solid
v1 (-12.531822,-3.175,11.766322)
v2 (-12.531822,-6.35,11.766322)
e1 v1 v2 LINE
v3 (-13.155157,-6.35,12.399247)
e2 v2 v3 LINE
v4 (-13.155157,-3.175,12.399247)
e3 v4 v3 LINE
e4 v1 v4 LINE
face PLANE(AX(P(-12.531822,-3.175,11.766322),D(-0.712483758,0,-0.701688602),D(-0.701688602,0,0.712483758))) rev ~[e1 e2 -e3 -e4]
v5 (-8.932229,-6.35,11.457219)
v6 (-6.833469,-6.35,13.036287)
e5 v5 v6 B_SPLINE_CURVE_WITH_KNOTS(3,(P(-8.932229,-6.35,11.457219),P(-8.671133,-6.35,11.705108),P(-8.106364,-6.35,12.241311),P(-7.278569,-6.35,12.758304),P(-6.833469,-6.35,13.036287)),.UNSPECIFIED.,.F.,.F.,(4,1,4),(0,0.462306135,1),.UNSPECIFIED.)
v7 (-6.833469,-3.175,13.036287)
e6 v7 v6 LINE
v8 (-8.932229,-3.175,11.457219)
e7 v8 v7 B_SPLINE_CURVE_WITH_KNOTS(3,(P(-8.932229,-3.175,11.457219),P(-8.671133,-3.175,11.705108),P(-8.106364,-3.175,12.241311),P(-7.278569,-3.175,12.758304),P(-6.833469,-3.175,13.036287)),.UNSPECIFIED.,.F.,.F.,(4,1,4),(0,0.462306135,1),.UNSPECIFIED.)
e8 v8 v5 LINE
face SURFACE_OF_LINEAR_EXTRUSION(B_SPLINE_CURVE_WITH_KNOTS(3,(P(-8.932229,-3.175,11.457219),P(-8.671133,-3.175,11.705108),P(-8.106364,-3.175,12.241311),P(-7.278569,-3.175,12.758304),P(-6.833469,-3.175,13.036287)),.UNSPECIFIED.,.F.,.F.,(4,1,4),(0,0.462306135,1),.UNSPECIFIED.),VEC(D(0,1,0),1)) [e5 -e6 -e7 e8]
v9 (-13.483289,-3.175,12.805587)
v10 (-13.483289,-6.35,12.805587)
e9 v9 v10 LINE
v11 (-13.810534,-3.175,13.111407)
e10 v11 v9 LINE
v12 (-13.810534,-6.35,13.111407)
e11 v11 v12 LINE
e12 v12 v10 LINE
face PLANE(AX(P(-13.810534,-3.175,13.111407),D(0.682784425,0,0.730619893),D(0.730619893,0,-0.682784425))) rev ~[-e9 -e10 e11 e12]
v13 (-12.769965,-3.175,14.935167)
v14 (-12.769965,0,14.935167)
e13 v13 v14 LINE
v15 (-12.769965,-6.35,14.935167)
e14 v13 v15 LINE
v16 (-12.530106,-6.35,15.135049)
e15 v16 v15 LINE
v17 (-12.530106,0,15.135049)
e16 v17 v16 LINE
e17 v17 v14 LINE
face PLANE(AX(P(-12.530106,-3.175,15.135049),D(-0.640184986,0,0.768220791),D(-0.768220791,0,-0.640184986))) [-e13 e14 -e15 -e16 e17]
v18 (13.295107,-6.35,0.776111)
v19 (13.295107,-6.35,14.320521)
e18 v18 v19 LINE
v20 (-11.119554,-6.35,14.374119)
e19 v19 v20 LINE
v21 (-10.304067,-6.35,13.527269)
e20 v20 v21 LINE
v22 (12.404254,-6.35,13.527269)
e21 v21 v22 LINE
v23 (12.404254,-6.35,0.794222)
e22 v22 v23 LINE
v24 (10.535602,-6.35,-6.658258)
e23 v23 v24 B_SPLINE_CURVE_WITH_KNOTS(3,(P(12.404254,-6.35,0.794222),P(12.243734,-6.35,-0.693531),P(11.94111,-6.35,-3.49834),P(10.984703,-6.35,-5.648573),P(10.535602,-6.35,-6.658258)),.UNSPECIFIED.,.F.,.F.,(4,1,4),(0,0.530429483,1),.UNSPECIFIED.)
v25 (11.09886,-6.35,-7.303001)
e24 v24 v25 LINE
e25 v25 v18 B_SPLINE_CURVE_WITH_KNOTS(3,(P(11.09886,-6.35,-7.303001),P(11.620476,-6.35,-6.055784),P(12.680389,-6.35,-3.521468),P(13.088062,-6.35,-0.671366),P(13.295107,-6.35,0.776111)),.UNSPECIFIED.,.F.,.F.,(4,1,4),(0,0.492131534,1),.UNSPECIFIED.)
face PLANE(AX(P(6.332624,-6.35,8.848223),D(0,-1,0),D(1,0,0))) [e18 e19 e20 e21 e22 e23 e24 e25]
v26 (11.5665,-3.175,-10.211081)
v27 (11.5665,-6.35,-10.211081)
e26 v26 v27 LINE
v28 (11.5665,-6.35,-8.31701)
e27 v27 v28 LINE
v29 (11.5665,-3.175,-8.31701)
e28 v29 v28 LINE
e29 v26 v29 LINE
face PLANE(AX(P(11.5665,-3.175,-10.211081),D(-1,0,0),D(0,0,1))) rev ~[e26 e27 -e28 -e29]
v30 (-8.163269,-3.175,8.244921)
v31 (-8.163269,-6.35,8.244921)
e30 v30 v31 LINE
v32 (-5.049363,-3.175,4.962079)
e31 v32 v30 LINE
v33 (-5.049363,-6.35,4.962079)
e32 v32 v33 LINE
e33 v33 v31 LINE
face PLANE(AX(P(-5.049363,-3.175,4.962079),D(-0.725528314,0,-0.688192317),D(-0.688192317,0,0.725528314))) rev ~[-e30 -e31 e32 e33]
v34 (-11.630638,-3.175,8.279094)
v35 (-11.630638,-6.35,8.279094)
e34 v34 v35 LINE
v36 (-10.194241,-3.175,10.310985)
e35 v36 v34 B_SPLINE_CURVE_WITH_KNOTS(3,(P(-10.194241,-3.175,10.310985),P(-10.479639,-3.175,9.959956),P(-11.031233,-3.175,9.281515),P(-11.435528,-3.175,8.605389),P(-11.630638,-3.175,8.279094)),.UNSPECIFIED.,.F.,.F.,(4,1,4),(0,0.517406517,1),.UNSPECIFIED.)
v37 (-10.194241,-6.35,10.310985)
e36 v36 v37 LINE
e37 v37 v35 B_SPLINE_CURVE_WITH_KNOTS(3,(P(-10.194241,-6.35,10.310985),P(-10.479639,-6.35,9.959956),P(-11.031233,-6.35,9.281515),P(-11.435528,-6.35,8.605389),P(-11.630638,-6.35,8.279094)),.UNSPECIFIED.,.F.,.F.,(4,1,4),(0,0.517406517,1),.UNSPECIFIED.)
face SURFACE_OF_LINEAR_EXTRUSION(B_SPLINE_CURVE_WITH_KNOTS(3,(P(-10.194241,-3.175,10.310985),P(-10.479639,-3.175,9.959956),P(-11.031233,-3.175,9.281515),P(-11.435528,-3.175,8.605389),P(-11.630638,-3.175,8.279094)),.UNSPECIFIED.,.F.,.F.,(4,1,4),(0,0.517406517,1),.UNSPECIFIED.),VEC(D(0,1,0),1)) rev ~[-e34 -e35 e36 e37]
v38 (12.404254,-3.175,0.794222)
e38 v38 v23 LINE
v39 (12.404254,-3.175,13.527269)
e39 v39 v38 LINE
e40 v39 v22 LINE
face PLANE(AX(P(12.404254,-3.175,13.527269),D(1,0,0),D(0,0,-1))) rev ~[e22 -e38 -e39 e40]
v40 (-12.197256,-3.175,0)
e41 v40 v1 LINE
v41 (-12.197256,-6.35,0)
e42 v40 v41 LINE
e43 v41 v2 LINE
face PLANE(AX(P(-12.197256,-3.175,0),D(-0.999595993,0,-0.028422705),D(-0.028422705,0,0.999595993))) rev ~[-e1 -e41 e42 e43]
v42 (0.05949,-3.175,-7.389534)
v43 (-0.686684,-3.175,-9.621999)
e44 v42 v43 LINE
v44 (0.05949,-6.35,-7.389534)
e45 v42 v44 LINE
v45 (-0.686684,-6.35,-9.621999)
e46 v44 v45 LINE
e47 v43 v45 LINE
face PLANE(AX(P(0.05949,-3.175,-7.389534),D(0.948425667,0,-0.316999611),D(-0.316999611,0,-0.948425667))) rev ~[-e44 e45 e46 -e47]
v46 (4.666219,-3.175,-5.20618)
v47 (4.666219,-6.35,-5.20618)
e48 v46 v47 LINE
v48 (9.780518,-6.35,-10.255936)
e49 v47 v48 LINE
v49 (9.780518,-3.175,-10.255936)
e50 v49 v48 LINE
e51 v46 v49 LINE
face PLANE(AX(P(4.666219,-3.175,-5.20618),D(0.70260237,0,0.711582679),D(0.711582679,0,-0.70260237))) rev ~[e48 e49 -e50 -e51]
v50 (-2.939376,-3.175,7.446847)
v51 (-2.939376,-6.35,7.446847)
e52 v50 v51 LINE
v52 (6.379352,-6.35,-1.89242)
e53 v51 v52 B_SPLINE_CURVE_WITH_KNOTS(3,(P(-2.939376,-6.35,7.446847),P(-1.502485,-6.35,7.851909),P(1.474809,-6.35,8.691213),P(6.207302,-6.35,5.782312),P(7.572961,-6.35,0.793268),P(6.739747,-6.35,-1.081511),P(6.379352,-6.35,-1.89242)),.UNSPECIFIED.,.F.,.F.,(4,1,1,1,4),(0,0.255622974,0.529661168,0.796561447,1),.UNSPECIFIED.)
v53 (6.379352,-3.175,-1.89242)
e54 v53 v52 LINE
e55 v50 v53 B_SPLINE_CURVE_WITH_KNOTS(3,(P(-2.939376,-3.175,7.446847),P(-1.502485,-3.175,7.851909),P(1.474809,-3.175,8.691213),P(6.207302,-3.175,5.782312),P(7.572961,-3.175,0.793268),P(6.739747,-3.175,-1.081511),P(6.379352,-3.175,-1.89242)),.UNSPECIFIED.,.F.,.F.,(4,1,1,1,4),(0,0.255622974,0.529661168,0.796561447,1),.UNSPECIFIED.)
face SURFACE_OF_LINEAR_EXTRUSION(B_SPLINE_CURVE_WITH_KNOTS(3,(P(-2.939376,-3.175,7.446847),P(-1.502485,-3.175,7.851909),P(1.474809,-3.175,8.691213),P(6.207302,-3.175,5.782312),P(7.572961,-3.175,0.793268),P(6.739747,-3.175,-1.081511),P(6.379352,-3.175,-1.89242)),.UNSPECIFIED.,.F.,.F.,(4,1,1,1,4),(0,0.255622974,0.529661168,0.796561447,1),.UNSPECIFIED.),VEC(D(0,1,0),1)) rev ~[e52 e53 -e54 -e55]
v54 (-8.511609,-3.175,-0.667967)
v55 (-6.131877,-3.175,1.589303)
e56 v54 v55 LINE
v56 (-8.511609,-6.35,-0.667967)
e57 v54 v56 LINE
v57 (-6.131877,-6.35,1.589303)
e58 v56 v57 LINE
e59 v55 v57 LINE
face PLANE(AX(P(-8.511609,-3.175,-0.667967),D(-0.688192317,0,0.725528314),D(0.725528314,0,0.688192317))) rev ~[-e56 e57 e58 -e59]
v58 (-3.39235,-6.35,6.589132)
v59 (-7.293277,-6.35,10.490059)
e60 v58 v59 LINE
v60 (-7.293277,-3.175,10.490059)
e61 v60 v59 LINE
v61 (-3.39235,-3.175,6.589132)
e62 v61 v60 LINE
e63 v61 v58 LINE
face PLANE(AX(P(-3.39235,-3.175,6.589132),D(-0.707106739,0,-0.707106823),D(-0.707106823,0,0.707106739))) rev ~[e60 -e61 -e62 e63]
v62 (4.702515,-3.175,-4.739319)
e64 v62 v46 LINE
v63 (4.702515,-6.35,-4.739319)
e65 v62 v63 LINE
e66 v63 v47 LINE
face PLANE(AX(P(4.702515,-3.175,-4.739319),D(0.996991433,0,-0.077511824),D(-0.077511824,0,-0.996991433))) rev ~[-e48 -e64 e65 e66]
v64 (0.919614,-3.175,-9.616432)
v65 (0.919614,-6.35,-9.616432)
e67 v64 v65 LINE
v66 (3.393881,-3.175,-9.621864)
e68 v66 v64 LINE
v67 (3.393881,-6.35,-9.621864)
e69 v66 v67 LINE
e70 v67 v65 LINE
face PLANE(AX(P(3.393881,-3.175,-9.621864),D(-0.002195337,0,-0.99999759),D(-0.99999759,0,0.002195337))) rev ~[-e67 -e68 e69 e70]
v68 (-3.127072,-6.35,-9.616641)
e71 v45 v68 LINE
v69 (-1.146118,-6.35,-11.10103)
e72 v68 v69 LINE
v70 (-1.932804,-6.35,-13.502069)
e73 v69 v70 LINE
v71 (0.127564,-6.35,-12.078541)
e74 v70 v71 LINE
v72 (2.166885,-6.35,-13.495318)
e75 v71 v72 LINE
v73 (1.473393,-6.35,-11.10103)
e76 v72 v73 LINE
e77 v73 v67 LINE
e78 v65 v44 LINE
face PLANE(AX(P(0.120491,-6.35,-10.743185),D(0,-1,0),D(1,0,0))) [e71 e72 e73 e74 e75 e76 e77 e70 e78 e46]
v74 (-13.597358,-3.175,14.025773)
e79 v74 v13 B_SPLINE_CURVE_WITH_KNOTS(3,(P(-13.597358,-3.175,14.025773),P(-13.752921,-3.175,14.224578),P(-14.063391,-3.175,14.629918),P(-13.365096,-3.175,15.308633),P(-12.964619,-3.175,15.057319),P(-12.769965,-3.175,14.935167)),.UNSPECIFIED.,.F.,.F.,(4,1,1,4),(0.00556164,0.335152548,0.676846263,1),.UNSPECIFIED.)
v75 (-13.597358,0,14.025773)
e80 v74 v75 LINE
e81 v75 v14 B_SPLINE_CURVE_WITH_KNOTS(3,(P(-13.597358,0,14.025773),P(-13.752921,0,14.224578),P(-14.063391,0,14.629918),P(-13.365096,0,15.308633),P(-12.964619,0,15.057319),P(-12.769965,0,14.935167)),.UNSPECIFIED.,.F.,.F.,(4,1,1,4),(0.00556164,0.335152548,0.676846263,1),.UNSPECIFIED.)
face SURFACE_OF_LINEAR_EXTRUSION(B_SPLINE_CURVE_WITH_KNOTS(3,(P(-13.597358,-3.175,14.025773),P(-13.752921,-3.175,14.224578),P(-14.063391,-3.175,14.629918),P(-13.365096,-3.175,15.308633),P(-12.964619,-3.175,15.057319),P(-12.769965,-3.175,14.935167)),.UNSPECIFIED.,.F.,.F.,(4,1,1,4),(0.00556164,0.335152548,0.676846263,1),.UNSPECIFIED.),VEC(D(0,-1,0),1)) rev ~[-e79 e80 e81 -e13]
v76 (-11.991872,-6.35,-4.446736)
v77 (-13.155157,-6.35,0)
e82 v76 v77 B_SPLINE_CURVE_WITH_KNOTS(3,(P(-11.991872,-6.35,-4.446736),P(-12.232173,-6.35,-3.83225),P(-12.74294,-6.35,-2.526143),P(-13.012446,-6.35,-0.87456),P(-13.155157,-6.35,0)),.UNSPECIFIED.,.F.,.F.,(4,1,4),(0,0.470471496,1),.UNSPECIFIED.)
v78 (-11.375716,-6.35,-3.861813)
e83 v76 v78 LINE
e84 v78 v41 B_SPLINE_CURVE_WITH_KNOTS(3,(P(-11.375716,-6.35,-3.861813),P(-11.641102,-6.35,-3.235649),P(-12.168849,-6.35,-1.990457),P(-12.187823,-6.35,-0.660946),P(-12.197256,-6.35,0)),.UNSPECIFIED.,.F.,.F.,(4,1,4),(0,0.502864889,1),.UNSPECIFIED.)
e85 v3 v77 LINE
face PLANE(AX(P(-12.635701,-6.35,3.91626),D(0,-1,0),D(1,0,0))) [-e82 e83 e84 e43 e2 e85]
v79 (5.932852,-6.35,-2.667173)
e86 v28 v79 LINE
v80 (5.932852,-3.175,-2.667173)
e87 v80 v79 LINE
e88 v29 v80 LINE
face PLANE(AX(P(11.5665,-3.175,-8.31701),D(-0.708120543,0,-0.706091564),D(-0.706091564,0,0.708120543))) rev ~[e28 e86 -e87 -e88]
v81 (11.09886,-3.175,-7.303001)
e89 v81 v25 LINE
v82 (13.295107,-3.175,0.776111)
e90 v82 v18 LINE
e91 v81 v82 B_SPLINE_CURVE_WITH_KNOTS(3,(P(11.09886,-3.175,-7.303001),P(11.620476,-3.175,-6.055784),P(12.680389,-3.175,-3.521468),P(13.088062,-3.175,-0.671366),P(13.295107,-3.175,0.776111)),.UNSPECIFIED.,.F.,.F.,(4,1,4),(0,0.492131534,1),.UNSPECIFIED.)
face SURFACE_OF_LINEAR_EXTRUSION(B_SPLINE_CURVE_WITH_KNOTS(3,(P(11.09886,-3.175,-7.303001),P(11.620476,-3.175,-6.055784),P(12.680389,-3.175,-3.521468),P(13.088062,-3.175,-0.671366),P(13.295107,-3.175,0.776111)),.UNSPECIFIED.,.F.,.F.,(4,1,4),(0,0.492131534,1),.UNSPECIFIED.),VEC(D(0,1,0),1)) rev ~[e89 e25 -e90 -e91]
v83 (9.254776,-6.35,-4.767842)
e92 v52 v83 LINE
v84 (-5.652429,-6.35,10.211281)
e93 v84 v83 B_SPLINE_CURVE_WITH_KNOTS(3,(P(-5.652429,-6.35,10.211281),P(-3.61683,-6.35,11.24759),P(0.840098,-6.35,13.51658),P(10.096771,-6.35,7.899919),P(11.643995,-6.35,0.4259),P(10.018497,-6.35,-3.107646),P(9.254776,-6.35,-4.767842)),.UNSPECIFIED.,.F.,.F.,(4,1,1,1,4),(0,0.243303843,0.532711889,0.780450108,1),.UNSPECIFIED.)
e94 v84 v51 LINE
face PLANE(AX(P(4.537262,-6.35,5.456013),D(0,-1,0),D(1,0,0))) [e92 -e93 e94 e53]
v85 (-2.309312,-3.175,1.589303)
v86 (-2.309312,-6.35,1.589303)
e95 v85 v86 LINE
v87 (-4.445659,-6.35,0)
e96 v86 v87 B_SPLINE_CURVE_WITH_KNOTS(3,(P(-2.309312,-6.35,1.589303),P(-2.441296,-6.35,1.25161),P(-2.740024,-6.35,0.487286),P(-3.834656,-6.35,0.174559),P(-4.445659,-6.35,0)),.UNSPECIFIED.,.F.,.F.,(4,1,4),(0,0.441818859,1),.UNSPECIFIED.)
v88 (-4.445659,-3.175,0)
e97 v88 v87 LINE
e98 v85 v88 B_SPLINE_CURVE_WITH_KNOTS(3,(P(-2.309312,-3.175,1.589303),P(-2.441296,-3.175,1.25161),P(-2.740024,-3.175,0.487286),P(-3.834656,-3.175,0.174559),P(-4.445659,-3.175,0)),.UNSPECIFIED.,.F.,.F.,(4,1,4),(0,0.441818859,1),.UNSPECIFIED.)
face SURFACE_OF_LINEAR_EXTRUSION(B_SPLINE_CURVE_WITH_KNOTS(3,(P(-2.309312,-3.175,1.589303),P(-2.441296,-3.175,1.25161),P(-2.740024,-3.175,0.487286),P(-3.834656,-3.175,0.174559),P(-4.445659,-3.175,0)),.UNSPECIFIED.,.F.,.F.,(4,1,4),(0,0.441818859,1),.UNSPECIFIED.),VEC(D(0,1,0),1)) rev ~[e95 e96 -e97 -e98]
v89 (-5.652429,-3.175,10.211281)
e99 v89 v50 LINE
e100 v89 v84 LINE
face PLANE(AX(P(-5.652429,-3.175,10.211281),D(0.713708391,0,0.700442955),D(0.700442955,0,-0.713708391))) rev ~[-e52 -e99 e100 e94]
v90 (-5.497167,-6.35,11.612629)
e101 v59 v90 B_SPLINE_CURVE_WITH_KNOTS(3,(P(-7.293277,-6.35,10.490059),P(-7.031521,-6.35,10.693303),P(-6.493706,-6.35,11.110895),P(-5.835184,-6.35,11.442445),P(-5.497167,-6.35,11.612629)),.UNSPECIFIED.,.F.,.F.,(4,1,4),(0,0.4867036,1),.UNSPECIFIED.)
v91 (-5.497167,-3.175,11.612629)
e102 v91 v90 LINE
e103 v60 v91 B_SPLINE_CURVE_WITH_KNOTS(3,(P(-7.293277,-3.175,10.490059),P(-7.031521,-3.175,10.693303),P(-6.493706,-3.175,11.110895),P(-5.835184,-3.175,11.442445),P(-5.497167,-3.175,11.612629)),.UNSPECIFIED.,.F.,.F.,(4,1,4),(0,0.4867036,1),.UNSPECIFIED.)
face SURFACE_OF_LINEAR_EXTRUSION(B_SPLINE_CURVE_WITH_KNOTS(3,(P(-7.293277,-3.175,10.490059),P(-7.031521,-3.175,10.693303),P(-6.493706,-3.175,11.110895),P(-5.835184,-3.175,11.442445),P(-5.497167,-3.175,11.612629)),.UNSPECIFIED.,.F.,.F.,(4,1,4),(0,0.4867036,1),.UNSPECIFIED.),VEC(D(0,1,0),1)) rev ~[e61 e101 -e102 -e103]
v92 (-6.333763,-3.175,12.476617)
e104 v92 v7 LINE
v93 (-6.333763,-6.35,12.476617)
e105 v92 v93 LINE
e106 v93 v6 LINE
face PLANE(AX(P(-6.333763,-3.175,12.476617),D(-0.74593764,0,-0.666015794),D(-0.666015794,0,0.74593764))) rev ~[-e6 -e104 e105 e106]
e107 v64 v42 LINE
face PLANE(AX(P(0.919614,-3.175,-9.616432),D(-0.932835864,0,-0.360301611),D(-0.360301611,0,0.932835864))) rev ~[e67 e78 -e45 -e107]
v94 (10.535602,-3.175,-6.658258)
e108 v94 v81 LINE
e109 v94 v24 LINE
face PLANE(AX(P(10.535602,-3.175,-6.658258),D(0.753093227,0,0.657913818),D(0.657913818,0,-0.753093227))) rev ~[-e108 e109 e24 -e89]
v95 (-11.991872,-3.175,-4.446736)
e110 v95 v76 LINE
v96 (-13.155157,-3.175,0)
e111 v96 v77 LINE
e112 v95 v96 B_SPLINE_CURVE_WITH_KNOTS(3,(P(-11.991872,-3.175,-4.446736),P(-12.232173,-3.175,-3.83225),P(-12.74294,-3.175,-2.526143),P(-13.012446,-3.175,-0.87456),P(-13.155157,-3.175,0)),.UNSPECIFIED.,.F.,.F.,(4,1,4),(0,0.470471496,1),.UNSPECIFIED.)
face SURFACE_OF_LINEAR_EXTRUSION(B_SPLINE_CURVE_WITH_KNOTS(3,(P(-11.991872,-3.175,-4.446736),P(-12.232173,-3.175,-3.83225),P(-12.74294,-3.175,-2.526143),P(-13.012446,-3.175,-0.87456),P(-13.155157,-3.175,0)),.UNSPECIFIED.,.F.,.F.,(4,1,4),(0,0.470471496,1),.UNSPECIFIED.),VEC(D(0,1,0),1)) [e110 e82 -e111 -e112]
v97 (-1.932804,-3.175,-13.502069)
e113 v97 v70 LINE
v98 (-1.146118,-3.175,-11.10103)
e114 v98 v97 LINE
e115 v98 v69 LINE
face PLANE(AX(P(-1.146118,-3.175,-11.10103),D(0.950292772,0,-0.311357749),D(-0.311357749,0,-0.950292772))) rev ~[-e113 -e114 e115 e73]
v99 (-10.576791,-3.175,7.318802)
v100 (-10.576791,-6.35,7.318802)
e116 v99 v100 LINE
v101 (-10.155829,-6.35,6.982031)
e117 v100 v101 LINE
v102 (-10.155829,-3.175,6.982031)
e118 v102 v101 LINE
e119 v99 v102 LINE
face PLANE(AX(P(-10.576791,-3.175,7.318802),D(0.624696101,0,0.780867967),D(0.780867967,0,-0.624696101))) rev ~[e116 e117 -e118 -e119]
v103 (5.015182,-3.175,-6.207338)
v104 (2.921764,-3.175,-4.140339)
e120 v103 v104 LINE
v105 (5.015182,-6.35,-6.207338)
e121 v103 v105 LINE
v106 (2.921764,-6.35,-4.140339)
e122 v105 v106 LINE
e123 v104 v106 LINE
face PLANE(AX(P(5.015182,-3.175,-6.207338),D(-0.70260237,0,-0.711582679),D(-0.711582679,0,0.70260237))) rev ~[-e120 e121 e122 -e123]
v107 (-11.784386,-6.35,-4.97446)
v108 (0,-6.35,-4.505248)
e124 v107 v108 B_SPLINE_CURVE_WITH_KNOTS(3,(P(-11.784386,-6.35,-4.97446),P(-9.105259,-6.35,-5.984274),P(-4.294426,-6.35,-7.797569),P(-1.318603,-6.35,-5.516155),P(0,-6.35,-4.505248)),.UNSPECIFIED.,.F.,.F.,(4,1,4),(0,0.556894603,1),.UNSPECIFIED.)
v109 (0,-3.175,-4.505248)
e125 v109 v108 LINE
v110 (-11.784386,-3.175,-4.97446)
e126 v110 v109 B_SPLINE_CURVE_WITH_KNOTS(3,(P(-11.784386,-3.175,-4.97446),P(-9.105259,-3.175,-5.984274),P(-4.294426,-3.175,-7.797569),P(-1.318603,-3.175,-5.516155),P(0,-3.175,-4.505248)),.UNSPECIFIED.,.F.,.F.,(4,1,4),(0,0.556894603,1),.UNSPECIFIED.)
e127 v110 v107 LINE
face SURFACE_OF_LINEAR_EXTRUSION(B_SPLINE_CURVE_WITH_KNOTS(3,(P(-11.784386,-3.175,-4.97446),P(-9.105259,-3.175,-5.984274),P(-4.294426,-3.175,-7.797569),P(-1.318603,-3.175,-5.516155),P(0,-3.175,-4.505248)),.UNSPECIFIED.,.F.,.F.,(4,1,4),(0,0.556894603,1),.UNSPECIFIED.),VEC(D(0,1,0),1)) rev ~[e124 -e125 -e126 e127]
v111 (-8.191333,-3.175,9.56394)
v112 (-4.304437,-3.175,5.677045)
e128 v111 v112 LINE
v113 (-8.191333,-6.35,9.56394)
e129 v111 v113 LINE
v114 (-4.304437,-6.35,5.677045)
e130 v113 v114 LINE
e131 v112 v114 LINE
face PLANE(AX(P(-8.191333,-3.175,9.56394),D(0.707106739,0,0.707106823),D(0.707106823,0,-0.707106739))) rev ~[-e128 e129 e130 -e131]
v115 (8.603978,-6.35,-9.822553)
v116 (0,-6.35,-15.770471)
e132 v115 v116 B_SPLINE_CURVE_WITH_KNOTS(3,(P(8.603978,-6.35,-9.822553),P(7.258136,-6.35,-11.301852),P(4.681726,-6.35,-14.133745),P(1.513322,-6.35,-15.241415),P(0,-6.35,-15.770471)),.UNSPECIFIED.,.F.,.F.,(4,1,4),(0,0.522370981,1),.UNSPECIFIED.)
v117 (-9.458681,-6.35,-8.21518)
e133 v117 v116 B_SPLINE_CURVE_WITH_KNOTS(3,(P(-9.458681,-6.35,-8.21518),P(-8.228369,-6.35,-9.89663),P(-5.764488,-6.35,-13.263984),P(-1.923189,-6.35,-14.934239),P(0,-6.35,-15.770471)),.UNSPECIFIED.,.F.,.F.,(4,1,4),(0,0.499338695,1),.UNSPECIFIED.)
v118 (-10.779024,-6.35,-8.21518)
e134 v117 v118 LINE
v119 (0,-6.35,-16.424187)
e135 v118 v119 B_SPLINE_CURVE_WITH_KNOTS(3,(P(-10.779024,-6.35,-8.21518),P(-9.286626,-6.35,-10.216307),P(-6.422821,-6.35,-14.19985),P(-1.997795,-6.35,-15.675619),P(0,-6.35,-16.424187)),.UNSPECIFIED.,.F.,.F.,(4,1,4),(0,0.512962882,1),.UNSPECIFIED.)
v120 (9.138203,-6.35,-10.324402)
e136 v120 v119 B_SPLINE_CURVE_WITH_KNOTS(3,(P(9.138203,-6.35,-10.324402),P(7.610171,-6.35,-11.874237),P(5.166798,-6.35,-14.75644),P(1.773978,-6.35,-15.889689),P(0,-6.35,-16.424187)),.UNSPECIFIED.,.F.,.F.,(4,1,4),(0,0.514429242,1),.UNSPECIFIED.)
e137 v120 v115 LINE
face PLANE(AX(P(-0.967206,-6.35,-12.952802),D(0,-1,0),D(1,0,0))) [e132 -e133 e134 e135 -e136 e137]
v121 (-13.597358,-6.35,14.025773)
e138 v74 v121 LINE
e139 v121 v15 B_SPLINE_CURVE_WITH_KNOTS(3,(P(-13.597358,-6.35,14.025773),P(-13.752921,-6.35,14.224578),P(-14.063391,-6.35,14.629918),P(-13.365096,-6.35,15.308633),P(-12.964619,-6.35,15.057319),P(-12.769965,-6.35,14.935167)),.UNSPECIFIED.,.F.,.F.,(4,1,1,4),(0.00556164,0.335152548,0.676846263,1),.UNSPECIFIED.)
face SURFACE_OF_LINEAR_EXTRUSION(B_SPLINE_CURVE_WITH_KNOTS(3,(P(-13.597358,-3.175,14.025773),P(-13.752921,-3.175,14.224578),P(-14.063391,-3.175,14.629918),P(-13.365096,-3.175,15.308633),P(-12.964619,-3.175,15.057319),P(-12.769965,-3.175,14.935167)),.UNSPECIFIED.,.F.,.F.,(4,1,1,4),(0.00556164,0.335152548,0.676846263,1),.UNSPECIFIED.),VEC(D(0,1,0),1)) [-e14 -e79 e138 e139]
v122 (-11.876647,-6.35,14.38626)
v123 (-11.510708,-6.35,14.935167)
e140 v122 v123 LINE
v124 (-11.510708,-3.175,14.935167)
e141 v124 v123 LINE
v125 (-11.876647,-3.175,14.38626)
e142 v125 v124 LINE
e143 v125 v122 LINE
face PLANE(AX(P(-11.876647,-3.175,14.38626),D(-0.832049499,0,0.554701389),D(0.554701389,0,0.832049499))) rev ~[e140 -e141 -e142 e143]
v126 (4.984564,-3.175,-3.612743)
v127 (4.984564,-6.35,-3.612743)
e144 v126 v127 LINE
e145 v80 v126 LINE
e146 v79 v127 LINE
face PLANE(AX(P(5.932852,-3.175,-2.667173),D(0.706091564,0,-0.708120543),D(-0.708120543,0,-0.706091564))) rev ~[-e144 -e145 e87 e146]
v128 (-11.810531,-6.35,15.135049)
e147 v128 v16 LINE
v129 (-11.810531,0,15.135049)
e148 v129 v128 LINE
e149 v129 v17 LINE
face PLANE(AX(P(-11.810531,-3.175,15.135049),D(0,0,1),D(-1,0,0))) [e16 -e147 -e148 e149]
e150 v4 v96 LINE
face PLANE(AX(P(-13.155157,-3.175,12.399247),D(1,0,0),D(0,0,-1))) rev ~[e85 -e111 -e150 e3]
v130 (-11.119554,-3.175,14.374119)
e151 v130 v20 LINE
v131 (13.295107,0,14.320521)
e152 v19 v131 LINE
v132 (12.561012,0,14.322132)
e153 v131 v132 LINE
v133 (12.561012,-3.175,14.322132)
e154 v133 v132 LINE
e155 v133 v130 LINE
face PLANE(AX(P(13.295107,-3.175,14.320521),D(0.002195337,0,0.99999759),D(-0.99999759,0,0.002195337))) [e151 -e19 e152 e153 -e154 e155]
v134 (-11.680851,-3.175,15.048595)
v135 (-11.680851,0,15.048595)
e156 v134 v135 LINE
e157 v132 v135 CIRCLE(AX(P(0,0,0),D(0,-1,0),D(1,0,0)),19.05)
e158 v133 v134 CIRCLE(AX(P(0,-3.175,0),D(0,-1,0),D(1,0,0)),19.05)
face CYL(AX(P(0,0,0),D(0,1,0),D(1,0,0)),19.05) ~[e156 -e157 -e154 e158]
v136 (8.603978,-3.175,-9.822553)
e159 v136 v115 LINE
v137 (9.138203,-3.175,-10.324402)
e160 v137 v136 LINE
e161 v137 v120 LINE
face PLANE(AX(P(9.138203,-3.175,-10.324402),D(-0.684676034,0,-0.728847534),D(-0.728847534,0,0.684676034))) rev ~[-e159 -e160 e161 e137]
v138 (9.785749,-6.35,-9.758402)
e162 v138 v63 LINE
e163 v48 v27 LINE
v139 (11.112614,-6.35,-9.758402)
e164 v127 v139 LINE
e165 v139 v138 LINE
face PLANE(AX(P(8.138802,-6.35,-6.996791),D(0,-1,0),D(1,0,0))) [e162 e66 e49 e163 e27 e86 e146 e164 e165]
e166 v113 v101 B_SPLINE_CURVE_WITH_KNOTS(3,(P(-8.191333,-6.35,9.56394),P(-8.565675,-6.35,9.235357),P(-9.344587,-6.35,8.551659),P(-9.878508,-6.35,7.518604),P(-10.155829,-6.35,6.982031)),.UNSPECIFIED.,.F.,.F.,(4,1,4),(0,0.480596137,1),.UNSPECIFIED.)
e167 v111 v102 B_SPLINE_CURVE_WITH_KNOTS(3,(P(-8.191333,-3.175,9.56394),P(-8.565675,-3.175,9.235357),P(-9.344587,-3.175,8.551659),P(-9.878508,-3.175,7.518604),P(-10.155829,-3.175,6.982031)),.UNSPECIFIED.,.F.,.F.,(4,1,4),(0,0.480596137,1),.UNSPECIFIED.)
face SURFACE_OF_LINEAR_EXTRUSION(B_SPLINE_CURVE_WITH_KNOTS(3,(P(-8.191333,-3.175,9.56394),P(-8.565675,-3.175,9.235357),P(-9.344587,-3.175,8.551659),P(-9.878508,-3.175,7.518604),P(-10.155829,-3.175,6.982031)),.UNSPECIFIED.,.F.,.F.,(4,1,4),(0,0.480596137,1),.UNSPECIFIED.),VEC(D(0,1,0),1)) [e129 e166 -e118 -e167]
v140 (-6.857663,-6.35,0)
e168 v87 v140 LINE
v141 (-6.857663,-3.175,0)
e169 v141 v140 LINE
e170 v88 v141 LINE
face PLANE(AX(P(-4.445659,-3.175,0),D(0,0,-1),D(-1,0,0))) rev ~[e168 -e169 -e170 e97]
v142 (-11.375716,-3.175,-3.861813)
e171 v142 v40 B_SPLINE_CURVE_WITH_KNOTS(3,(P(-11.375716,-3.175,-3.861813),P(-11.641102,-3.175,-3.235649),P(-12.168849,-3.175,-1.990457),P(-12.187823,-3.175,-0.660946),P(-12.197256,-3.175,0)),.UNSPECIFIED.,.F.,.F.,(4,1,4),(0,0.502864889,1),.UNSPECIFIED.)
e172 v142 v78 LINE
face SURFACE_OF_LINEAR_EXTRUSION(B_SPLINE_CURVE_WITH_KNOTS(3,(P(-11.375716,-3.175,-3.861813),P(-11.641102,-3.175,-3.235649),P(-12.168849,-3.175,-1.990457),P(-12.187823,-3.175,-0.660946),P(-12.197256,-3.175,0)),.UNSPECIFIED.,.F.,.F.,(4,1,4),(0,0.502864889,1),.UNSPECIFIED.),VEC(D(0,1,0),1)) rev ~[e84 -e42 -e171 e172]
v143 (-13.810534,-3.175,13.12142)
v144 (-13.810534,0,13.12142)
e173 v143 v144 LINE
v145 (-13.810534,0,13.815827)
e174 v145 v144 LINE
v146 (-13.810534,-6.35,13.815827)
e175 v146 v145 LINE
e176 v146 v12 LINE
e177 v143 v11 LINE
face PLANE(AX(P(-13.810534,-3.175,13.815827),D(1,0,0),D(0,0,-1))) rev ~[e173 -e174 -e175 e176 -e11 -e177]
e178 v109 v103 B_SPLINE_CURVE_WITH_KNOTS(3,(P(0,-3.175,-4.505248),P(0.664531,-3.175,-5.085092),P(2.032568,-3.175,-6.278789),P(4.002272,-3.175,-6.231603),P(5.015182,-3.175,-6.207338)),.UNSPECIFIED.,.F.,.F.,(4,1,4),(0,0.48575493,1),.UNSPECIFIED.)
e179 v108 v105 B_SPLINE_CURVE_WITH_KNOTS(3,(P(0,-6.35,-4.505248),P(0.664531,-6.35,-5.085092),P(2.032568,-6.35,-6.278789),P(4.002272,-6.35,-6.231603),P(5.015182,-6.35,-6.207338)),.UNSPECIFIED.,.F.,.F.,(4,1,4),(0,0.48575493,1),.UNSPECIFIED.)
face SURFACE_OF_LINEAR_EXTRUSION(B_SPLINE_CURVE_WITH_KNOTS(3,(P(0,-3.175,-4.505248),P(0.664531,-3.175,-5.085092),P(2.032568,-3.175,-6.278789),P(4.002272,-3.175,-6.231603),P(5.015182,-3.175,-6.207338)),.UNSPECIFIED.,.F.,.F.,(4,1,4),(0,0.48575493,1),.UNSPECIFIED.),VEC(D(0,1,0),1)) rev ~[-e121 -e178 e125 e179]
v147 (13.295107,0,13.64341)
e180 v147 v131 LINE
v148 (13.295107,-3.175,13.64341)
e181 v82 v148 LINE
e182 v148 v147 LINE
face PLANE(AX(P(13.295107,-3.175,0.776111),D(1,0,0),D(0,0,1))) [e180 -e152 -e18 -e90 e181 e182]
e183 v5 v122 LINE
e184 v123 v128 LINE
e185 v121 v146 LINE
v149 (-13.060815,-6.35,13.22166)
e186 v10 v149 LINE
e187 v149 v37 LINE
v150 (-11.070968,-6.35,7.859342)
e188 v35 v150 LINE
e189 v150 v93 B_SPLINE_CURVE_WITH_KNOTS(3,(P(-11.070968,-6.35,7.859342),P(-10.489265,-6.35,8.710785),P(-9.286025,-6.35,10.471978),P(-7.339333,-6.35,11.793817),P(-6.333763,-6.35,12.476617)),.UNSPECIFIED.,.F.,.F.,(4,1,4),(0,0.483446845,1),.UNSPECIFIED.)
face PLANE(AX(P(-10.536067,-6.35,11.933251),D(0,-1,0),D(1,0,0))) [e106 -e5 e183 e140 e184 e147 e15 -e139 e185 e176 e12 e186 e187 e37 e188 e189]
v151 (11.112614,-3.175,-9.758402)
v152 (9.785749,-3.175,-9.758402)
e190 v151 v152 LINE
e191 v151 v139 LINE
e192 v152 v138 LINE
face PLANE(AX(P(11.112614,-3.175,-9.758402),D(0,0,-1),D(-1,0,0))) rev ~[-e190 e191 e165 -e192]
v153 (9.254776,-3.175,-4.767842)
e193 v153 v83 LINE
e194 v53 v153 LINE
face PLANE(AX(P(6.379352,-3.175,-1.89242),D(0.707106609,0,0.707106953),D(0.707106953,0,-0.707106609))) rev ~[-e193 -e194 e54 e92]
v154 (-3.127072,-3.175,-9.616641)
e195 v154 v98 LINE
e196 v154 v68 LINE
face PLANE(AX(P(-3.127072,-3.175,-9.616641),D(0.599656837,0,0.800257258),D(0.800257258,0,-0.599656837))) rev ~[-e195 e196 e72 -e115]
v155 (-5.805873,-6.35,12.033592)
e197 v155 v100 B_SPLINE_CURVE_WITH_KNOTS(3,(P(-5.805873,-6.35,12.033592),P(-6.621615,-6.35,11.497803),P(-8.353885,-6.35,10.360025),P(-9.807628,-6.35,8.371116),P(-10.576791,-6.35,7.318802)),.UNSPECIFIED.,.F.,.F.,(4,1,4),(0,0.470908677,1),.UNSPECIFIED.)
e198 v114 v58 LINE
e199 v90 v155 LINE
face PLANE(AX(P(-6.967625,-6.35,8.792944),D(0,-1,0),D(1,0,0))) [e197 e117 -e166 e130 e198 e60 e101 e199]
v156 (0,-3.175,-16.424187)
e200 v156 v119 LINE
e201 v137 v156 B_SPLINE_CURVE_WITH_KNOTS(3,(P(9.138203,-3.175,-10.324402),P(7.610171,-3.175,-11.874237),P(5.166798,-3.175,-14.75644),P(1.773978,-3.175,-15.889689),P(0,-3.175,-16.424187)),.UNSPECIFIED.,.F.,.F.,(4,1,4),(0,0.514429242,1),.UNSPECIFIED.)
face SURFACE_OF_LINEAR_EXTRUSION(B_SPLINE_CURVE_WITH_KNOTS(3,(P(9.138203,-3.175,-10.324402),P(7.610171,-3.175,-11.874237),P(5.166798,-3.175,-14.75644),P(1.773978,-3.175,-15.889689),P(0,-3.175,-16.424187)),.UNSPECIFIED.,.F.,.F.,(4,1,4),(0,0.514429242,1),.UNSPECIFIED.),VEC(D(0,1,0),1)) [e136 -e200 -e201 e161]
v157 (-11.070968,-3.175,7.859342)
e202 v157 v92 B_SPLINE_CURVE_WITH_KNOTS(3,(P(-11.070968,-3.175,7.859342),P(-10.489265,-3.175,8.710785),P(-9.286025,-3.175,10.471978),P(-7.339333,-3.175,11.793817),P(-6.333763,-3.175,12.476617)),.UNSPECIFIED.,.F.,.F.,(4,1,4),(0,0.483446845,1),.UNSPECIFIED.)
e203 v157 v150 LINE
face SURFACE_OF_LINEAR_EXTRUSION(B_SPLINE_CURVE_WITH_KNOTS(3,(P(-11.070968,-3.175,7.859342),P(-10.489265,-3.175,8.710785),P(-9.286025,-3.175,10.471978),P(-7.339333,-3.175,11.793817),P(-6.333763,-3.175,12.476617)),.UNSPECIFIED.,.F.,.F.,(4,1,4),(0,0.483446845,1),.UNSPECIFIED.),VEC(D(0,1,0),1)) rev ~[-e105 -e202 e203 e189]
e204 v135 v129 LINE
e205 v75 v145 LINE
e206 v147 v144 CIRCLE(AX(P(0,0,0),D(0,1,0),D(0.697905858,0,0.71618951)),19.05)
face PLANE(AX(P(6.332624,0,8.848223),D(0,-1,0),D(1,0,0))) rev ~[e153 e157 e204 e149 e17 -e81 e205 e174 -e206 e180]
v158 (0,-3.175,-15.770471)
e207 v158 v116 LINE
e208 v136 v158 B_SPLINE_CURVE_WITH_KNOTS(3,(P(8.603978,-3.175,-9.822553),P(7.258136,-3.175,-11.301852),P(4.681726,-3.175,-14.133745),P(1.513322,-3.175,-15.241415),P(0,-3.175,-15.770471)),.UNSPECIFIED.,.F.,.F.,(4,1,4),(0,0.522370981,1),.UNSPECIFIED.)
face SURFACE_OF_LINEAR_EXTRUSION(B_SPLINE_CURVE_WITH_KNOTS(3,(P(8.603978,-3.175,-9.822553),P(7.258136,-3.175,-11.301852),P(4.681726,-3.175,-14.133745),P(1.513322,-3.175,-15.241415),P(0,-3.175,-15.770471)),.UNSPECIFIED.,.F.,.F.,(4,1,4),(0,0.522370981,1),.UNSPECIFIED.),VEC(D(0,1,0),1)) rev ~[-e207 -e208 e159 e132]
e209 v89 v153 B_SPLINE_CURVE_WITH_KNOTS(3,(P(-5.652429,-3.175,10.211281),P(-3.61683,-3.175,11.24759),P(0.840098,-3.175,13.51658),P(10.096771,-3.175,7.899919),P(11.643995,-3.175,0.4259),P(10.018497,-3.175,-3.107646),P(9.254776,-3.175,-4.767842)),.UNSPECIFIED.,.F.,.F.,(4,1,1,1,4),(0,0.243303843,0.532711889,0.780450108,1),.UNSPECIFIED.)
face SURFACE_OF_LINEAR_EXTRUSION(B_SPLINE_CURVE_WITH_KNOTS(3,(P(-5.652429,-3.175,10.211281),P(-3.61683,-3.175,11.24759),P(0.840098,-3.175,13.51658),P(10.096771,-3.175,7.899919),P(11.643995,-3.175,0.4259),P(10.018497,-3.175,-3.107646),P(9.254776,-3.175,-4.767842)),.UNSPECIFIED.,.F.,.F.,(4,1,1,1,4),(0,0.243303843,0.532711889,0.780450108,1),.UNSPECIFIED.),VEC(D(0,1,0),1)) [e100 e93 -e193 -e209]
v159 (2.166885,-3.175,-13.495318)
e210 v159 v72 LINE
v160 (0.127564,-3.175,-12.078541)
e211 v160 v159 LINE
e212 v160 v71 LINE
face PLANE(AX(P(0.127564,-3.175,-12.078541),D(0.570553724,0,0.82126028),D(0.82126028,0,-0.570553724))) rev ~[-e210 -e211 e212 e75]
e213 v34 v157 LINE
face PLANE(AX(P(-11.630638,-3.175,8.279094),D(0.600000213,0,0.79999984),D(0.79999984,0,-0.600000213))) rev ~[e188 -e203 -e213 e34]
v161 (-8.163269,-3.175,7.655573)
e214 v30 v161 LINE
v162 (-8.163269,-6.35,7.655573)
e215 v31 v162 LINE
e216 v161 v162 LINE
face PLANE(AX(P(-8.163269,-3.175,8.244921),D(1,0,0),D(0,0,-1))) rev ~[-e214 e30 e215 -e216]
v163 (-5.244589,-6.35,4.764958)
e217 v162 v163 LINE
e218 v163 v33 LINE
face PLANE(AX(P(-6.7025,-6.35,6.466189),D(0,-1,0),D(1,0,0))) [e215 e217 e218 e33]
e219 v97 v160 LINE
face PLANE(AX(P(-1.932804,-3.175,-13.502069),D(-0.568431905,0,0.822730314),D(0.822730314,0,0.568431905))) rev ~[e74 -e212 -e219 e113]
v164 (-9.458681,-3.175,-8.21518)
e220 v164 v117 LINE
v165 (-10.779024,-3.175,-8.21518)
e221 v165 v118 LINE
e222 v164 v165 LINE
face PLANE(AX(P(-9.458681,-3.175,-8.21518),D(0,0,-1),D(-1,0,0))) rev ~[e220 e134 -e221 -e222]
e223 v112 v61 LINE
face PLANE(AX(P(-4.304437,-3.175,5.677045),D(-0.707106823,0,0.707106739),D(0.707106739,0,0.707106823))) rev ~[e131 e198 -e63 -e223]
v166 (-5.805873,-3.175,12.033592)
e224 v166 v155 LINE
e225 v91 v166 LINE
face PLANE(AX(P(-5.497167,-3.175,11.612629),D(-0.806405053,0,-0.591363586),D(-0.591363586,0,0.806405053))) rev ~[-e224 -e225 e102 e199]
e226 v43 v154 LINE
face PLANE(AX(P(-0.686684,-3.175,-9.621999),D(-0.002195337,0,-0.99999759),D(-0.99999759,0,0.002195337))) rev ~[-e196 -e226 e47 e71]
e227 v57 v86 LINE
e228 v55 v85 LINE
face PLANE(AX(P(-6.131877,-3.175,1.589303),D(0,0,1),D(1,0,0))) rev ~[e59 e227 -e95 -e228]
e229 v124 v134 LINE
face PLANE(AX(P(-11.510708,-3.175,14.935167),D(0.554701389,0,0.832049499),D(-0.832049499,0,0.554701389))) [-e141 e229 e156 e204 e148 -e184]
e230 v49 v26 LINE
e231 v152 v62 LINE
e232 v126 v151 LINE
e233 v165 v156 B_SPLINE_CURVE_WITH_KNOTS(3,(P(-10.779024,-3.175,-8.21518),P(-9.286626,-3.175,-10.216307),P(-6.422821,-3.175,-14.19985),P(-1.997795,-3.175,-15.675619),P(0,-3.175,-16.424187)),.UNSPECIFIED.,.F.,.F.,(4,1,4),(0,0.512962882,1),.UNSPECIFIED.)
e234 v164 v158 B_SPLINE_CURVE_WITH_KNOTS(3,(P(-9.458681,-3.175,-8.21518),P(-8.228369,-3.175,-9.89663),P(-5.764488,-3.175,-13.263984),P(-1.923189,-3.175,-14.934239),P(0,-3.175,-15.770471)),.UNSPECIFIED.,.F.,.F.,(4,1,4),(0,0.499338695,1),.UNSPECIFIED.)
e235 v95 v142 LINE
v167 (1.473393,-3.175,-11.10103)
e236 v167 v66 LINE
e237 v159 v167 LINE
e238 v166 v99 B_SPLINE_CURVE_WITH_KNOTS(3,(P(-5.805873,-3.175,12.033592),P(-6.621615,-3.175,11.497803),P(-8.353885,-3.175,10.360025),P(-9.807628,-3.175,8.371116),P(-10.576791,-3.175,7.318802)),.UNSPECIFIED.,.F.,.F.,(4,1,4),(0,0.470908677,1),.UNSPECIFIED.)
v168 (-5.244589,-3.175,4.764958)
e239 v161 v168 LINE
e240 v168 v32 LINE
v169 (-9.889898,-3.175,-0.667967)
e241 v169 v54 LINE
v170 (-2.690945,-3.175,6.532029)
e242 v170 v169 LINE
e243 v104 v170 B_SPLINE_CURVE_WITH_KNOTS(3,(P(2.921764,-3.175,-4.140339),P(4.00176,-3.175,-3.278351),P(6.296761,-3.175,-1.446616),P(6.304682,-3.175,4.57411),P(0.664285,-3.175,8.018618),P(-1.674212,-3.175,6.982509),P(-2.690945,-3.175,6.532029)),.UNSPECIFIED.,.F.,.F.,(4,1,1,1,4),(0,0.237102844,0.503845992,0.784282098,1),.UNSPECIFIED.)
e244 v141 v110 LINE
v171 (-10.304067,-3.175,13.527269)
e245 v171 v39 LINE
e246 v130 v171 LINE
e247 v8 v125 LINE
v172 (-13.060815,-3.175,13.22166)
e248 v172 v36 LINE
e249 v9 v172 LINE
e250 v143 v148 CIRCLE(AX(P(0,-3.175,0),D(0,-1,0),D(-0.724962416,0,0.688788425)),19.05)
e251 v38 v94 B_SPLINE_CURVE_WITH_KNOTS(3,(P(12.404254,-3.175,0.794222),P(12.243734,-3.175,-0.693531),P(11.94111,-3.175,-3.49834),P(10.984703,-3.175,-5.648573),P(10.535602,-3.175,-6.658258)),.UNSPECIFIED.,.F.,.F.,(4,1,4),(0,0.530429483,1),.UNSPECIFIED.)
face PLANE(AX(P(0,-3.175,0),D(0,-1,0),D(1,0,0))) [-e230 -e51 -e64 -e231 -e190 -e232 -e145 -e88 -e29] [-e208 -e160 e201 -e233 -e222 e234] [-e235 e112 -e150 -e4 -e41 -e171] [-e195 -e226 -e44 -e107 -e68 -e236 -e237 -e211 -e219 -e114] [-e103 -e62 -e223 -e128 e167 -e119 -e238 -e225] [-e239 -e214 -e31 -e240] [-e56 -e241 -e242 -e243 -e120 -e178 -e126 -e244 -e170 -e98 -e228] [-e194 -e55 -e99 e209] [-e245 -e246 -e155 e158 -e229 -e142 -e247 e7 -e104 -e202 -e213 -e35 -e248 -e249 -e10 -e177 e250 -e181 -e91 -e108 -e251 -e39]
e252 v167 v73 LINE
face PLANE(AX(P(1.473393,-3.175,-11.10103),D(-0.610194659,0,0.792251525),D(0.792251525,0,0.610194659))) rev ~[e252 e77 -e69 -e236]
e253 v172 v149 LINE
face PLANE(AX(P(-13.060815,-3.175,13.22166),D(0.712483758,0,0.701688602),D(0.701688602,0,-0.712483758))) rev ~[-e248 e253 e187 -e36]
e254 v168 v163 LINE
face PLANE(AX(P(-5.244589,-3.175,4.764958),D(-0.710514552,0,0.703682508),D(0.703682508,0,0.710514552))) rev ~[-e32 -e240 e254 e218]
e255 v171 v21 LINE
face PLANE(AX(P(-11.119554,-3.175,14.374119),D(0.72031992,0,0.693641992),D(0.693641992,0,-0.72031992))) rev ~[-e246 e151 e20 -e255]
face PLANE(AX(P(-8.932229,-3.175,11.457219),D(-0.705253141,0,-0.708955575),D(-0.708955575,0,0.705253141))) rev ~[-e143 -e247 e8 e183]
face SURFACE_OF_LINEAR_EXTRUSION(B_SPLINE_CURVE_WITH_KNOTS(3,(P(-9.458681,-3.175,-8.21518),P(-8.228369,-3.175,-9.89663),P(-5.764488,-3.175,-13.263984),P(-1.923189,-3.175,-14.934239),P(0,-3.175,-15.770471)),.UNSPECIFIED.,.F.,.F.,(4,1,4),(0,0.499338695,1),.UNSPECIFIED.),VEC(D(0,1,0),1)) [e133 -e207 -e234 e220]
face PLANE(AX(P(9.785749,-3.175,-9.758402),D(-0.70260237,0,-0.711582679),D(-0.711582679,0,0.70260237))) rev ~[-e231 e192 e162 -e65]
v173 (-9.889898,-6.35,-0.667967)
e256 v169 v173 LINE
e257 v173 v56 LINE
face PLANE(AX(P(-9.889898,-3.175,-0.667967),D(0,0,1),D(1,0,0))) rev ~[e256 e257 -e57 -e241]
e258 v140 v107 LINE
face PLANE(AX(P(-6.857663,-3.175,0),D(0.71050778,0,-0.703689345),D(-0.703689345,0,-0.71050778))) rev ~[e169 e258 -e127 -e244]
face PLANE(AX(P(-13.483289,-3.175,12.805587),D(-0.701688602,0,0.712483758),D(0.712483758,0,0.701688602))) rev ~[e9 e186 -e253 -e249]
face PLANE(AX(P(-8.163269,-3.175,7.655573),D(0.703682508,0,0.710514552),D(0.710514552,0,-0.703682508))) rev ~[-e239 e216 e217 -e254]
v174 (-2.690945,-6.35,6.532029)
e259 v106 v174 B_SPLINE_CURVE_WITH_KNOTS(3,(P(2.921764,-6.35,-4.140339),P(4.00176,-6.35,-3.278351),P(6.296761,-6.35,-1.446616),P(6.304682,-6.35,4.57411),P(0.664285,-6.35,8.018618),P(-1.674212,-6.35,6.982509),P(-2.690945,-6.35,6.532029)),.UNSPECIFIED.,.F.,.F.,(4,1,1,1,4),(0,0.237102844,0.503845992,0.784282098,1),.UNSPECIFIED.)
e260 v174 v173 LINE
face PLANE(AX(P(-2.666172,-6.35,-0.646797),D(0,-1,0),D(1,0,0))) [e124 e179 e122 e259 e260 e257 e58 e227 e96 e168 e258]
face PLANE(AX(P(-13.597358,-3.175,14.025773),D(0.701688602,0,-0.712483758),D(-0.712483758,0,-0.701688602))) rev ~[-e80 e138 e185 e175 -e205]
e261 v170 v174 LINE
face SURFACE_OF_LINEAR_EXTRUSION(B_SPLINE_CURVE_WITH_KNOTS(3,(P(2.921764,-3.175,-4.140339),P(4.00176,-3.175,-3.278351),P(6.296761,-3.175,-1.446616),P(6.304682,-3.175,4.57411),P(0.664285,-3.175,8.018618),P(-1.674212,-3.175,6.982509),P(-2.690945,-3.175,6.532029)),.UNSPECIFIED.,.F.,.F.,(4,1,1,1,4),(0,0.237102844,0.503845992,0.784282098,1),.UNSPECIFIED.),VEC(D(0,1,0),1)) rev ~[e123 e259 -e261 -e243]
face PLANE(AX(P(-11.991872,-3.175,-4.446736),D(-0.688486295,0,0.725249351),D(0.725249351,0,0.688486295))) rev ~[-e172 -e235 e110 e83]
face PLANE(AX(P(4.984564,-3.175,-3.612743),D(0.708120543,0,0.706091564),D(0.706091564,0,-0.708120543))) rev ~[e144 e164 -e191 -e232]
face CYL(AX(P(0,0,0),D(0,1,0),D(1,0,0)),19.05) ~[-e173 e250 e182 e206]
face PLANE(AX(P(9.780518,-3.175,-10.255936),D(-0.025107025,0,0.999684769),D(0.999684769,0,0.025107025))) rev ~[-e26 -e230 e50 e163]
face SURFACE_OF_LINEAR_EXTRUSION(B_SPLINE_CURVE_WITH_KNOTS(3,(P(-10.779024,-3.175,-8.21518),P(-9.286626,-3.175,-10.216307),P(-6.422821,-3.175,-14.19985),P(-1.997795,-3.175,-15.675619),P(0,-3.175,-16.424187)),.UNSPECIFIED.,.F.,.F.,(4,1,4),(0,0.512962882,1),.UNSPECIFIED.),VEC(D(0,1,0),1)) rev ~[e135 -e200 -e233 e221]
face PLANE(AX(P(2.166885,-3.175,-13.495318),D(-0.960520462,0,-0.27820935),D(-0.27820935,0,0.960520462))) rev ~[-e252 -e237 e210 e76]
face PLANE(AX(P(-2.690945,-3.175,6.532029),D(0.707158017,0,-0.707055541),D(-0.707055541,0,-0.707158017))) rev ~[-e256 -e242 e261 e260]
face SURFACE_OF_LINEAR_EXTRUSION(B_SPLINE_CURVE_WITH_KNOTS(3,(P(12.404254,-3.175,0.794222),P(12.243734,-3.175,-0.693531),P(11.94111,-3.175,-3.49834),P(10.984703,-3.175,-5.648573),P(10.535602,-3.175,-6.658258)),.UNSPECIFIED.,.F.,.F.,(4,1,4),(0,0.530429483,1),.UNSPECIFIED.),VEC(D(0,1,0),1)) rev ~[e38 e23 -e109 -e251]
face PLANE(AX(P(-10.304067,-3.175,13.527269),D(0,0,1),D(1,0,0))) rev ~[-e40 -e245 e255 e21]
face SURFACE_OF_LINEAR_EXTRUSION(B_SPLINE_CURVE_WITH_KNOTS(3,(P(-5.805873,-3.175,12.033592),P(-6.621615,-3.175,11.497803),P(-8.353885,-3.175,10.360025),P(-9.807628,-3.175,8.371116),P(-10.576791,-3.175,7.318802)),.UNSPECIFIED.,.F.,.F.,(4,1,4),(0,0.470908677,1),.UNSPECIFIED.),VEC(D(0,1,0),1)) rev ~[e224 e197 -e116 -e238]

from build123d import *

# Parameters (mm, degrees)
F0_R          = 19.05
F1_DEPTH      = 3.175
F3_DEPTH      = 3.175
F3_DEPTH_BACK = 3.175


with BuildPart() as f1:
    # F0 (on Front) → F1 (new body)
    with BuildSketch(Plane.XZ):
        Circle(F0_R)
    extrude(amount=F1_DEPTH)

    # F2 (on face) → F3 (join, two sides)
    with BuildSketch(Plane.XZ.offset(3.175)) as f3_sk:
        with BuildLine():
            Line((13.2951065898, 14.3205206841), (-11.1195538193, 14.3741192296))
            Line((-11.1195538193, 14.3741192296), (-10.3040672839, 13.5272685438))
            Line((-10.3040672839, 13.5272685438), (12.4042537063, 13.5272685438))
            Line((12.4042537063, 13.5272685438), (12.4042537063, 0.7942219963))
            add(Edge.make_bspline(
                [(12.4042537063, 0.7942219963), (12.2437335062, -0.6935312294), (11.9411104332, -3.4983399235), (10.9847031297, -5.6485725407), (10.5356024578, -6.6582583822)],
                knots=[0, 0, 0, 0, 0.5304294831, 1, 1, 1, 1], degree=3))
            Line((10.5356024578, -6.6582583822), (11.0988598317, -7.3030013591))
            add(Edge.make_bspline(
                [(11.0988598317, -7.3030013591), (11.6204761786, -6.0557843594), (12.6803886436, -3.521467994), (13.0880620978, -0.6713659701), (13.2951065898, 0.7761109737)],
                knots=[0, 0, 0, 0, 0.4921315337, 1, 1, 1, 1], degree=3))
            Line((13.2951065898, 0.7761109737), (13.2951065898, 14.3205206841))
        make_face()
        Polygon((-0.6866836248, -9.621998817), (-3.1270722393, -9.6166413277), (-1.1461181566, -11.1010298133), (-1.9328042399, -13.5020688176), (0.1275643008, -12.078541331), (2.1668851841, -13.4953176603), (1.4733931748, -11.1010298133), (3.3938813927, -9.6218636439), (0.9196144529, -9.6164317802), (0.0594901867, -7.3895342648), align=None)
        Polygon((9.7805182455, -10.2559360764), (11.5665001795, -10.2110812441), (11.5665001795, -8.3170095459), (5.9328516945, -2.6671725791), (4.9845642127, -3.6127429321), (11.1126137586, -9.7584016382), (9.7857490182, -9.7584016382), (4.7025149688, -4.7393189743), (4.6662185341, -5.2061798051), align=None)
        with BuildLine():
            Line((5.0151818607, -6.2073378134), (2.9217640404, -4.1403393261))
            add(Edge.make_bspline(
                [(2.9217640404, -4.1403393261), (4.0017596573, -3.2783505651), (6.2967614913, -1.4466155502), (6.3046824324, 4.5741096828), (0.6642850808, 8.0186176921), (-1.6742123718, 6.9825088021), (-2.6909445878, 6.5320292488)],
                knots=[0, 0, 0, 0, 0.2371028445, 0.503845992, 0.7842820981, 1, 1, 1, 1], degree=3))
            Line((-2.6909445878, 6.5320292488), (-9.8898978904, -0.6679674261))
            Line((-9.8898978904, -0.6679674261), (-8.5116093978, -0.6679674261))
            Line((-8.5116093978, -0.6679674261), (-6.13187678, 1.5893031363))
            Line((-6.13187678, 1.5893031363), (-2.3093123455, 1.5893031363))
            add(Edge.make_bspline(
                [(-2.3093123455, 1.5893031363), (-2.4412960331, 1.2516102423), (-2.7400240864, 0.4872859334), (-3.8346557693, 0.1745585357), (-4.445658531, 0)],
                knots=[0, 0, 0, 0, 0.441818859, 1, 1, 1, 1], degree=3))
            Line((-4.445658531, 0), (-6.857663393, 0))
            Line((-6.857663393, 0), (-11.7843858898, -4.9744602293))
            add(Edge.make_bspline(
                [(-11.7843858898, -4.9744602293), (-9.1052590566, -5.9842742459), (-4.2944262342, -7.7975689191), (-1.3186032332, -5.5161550663), (0, -4.5052482747)],
                knots=[0, 0, 0, 0, 0.5568946027, 1, 1, 1, 1], degree=3))
            add(Edge.make_bspline(
                [(0, -4.5052482747), (0.6645308371, -5.0850922819), (2.0325680841, -6.2787888796), (4.0022715592, -6.2316029467), (5.0151818607, -6.2073378134)],
                knots=[0, 0, 0, 0, 0.48575493, 1, 1, 1, 1], degree=3))
        make_face()
        with BuildLine():
            Line((9.138203226, -10.324401781), (8.6039779708, -9.8225530237))
            add(Edge.make_bspline(
                [(8.6039779708, -9.8225530237), (7.2581361134, -11.3018518624), (4.6817260383, -14.1337450832), (1.5133218063, -15.2414152892), (0, -15.7704707235)],
                knots=[0, 0, 0, 0, 0.5223709806, 1, 1, 1, 1], degree=3))
            add(Edge.make_bspline(
                [(-9.4586806372, -8.2151796669), (-8.2283692319, -9.8966299336), (-5.7644876665, -13.2639841641), (-1.9231894023, -14.9342388384), (0, -15.7704707235)],
                knots=[0, 0, 0, 0, 0.4993386949, 1, 1, 1, 1], degree=3))
            Line((-9.4586806372, -8.2151796669), (-10.7790241018, -8.2151796669))
            add(Edge.make_bspline(
                [(-10.7790241018, -8.2151796669), (-9.2866257772, -10.216307173), (-6.422821017, -14.1998498946), (-1.9977948837, -15.6756193291), (0, -16.4241865277)],
                knots=[0, 0, 0, 0, 0.5129628819, 1, 1, 1, 1], degree=3))
            add(Edge.make_bspline(
                [(9.138203226, -10.324401781), (7.6101712009, -11.8742374182), (5.1667983891, -14.7564398611), (1.7739776455, -15.8896886405), (0, -16.4241865277)],
                knots=[0, 0, 0, 0, 0.5144292418, 1, 1, 1, 1], degree=3))
        make_face()
        with BuildLine():
            Line((6.3793524168, -1.8924199976), (9.2547759414, -4.7678421251))
            add(Edge.make_bspline(
                [(-5.6524286047, 10.2112814784), (-3.6168299799, 11.2475901318), (0.8400975189, 13.5165799408), (10.0967712781, 7.8999192805), (11.6439949159, 0.4259003835), (10.018497176, -3.1076462689), (9.2547759414, -4.7678421251)],
                knots=[0, 0, 0, 0, 0.2433038431, 0.5327118892, 0.7804501082, 1, 1, 1, 1], degree=3))
            Line((-5.6524286047, 10.2112814784), (-2.9393755831, 7.4468469247))
            add(Edge.make_bspline(
                [(-2.9393755831, 7.4468469247), (-1.502485499, 7.851908623), (1.4748090248, 8.691212888), (6.2073016389, 5.7823119551), (7.5729609076, 0.7932677253), (6.7397473926, -1.0815105835), (6.3793524168, -1.8924199976)],
                knots=[0, 0, 0, 0, 0.255622974, 0.5296611682, 0.7965614469, 1, 1, 1, 1], degree=3))
        make_face()
        with BuildLine():
            Line((-3.3923503943, 6.5891323611), (-7.2932774201, 10.4900589213))
            add(Edge.make_bspline(
                [(-7.2932774201, 10.4900589213), (-7.0315208484, 10.6933025832), (-6.4937056941, 11.1108948549), (-5.835183803, 11.4424450599), (-5.4971668869, 11.6126285866)],
                knots=[0, 0, 0, 0, 0.4867035999, 1, 1, 1, 1], degree=3))
            Line((-5.4971668869, 11.6126285866), (-5.8058733121, 12.0335919783))
            add(Edge.make_bspline(
                [(-5.8058733121, 12.0335919783), (-6.6216145688, 11.4978026508), (-8.3538851706, 10.3600250858), (-9.8076282699, 8.3711164696), (-10.57679113, 7.3188021779)],
                knots=[0, 0, 0, 0, 0.4709086767, 1, 1, 1, 1], degree=3))
            Line((-10.57679113, 7.3188021779), (-10.1558286697, 6.9820312783))
            add(Edge.make_bspline(
                [(-8.1913326934, 9.5639401115), (-8.5656748556, 9.2353572907), (-9.3445869881, 8.5516588682), (-9.8785080222, 7.5186039785), (-10.1558286697, 6.9820312783)],
                knots=[0, 0, 0, 0, 0.4805961373, 1, 1, 1, 1], degree=3))
            Line((-8.1913326934, 9.5639401115), (-4.3044373822, 5.6770452643))
            Line((-4.3044373822, 5.6770452643), (-3.3923503943, 6.5891323611))
        make_face()
        Polygon((-5.0493629472, 4.9620792635), (-8.1632686779, 8.2449214533), (-8.1632686779, 7.6555726118), (-5.2445889451, 4.7649578191), align=None)
        with BuildLine():
            Line((-13.060814701, 13.2216596976), (-10.1942410693, 10.310985148))
            add(Edge.make_bspline(
                [(-10.1942410693, 10.310985148), (-10.4796394205, 9.9599556602), (-11.0312334616, 9.2815152529), (-11.4355277717, 8.6053887276), (-11.6306375712, 8.2790944725)],
                knots=[0, 0, 0, 0, 0.5174065165, 1, 1, 1, 1], degree=3))
            Line((-11.6306375712, 8.2790944725), (-11.0709676519, 7.8593418002))
            add(Edge.make_bspline(
                [(-11.0709676519, 7.8593418002), (-10.4892649761, 8.7107849431), (-9.2860247818, 10.4719778261), (-7.3393330178, 11.7938171812), (-6.3337632455, 12.4766174704)],
                knots=[0, 0, 0, 0, 0.4834468451, 1, 1, 1, 1], degree=3))
            Line((-6.3337632455, 12.4766174704), (-6.8334685639, 13.0362873897))
            add(Edge.make_bspline(
                [(-8.9322291315, 11.4572187886), (-8.6711328955, 11.7051084023), (-8.1063637602, 12.2413107045), (-7.2785688232, 12.7583035228), (-6.8334685639, 13.0362873897)],
                knots=[0, 0, 0, 0, 0.4623061346, 1, 1, 1, 1], degree=3))
            Line((-8.9322291315, 11.4572187886), (-11.8766472151, 14.3862600113))
            Line((-11.8766472151, 14.3862600113), (-11.5107083693, 14.935166575))
            Line((-11.5107083693, 14.935166575), (-11.8105309084, 15.1350488886))
            Line((-11.8105309084, 15.1350488886), (-12.5301061198, 15.1350488886))
            Line((-12.5301061198, 15.1350488886), (-12.7699645236, 14.935166575))
            add(Edge.make_bspline(
                [(-13.5973577846, 14.0257730544), (-13.7529213261, 14.2245779674), (-14.0633906595, 14.629918389), (-13.3650961838, 15.3086328914), (-12.9646191681, 15.0573192984), (-12.7699645236, 14.935166575)],
                knots=[0.0055616399, 0.0055616399, 0.0055616399, 0.0055616399, 0.3351525481, 0.6768462626, 1, 1, 1, 1], degree=3))
            Line((-13.5973577846, 14.0257730544), (-13.8105340302, 13.8158267364))
            Line((-13.8105340302, 13.8158267364), (-13.8105340302, 13.1114069372))
            Line((-13.8105340302, 13.1114069372), (-13.483288508, 12.8055869782))
            Line((-13.483288508, 12.8055869782), (-13.060814701, 13.2216596976))
        make_face()
        with BuildLine():
            Line((-13.1551567465, 12.3992469162), (-13.1551567465, 11.7663224228))
            Line((-13.1551567465, 11.7663224228), (-13.1551567465, 0))
            add(Edge.make_bspline(
                [(-11.9918715209, -4.4467356056), (-12.2321727364, -3.8322497133), (-12.7429395262, -2.5261431838), (-13.0124455989, -0.8745602441), (-13.1551567465, 0)],
                knots=[0, 0, 0, 0, 0.4704714955, 1, 1, 1, 1], degree=3))
            Line((-11.9918715209, -4.4467356056), (-11.3757159561, -3.8618131075))
            add(Edge.make_bspline(
                [(-11.3757159561, -3.8618131075), (-11.6411017383, -3.2356494914), (-12.168849425, -1.9904569373), (-12.1878234395, -0.6609463785), (-12.1972560883, 0)],
                knots=[0, 0, 0, 0, 0.5028648895, 1, 1, 1, 1], degree=3))
            Line((-12.1972560883, 0), (-12.5318219721, 11.7663224228))
            Line((-12.5318219721, 11.7663224228), (-13.1551567465, 12.3992469162))
        make_face()
    extrude(amount=F3_DEPTH)
    extrude(f3_sk.sketch, amount=-F3_DEPTH_BACK)


solid = f1.part
